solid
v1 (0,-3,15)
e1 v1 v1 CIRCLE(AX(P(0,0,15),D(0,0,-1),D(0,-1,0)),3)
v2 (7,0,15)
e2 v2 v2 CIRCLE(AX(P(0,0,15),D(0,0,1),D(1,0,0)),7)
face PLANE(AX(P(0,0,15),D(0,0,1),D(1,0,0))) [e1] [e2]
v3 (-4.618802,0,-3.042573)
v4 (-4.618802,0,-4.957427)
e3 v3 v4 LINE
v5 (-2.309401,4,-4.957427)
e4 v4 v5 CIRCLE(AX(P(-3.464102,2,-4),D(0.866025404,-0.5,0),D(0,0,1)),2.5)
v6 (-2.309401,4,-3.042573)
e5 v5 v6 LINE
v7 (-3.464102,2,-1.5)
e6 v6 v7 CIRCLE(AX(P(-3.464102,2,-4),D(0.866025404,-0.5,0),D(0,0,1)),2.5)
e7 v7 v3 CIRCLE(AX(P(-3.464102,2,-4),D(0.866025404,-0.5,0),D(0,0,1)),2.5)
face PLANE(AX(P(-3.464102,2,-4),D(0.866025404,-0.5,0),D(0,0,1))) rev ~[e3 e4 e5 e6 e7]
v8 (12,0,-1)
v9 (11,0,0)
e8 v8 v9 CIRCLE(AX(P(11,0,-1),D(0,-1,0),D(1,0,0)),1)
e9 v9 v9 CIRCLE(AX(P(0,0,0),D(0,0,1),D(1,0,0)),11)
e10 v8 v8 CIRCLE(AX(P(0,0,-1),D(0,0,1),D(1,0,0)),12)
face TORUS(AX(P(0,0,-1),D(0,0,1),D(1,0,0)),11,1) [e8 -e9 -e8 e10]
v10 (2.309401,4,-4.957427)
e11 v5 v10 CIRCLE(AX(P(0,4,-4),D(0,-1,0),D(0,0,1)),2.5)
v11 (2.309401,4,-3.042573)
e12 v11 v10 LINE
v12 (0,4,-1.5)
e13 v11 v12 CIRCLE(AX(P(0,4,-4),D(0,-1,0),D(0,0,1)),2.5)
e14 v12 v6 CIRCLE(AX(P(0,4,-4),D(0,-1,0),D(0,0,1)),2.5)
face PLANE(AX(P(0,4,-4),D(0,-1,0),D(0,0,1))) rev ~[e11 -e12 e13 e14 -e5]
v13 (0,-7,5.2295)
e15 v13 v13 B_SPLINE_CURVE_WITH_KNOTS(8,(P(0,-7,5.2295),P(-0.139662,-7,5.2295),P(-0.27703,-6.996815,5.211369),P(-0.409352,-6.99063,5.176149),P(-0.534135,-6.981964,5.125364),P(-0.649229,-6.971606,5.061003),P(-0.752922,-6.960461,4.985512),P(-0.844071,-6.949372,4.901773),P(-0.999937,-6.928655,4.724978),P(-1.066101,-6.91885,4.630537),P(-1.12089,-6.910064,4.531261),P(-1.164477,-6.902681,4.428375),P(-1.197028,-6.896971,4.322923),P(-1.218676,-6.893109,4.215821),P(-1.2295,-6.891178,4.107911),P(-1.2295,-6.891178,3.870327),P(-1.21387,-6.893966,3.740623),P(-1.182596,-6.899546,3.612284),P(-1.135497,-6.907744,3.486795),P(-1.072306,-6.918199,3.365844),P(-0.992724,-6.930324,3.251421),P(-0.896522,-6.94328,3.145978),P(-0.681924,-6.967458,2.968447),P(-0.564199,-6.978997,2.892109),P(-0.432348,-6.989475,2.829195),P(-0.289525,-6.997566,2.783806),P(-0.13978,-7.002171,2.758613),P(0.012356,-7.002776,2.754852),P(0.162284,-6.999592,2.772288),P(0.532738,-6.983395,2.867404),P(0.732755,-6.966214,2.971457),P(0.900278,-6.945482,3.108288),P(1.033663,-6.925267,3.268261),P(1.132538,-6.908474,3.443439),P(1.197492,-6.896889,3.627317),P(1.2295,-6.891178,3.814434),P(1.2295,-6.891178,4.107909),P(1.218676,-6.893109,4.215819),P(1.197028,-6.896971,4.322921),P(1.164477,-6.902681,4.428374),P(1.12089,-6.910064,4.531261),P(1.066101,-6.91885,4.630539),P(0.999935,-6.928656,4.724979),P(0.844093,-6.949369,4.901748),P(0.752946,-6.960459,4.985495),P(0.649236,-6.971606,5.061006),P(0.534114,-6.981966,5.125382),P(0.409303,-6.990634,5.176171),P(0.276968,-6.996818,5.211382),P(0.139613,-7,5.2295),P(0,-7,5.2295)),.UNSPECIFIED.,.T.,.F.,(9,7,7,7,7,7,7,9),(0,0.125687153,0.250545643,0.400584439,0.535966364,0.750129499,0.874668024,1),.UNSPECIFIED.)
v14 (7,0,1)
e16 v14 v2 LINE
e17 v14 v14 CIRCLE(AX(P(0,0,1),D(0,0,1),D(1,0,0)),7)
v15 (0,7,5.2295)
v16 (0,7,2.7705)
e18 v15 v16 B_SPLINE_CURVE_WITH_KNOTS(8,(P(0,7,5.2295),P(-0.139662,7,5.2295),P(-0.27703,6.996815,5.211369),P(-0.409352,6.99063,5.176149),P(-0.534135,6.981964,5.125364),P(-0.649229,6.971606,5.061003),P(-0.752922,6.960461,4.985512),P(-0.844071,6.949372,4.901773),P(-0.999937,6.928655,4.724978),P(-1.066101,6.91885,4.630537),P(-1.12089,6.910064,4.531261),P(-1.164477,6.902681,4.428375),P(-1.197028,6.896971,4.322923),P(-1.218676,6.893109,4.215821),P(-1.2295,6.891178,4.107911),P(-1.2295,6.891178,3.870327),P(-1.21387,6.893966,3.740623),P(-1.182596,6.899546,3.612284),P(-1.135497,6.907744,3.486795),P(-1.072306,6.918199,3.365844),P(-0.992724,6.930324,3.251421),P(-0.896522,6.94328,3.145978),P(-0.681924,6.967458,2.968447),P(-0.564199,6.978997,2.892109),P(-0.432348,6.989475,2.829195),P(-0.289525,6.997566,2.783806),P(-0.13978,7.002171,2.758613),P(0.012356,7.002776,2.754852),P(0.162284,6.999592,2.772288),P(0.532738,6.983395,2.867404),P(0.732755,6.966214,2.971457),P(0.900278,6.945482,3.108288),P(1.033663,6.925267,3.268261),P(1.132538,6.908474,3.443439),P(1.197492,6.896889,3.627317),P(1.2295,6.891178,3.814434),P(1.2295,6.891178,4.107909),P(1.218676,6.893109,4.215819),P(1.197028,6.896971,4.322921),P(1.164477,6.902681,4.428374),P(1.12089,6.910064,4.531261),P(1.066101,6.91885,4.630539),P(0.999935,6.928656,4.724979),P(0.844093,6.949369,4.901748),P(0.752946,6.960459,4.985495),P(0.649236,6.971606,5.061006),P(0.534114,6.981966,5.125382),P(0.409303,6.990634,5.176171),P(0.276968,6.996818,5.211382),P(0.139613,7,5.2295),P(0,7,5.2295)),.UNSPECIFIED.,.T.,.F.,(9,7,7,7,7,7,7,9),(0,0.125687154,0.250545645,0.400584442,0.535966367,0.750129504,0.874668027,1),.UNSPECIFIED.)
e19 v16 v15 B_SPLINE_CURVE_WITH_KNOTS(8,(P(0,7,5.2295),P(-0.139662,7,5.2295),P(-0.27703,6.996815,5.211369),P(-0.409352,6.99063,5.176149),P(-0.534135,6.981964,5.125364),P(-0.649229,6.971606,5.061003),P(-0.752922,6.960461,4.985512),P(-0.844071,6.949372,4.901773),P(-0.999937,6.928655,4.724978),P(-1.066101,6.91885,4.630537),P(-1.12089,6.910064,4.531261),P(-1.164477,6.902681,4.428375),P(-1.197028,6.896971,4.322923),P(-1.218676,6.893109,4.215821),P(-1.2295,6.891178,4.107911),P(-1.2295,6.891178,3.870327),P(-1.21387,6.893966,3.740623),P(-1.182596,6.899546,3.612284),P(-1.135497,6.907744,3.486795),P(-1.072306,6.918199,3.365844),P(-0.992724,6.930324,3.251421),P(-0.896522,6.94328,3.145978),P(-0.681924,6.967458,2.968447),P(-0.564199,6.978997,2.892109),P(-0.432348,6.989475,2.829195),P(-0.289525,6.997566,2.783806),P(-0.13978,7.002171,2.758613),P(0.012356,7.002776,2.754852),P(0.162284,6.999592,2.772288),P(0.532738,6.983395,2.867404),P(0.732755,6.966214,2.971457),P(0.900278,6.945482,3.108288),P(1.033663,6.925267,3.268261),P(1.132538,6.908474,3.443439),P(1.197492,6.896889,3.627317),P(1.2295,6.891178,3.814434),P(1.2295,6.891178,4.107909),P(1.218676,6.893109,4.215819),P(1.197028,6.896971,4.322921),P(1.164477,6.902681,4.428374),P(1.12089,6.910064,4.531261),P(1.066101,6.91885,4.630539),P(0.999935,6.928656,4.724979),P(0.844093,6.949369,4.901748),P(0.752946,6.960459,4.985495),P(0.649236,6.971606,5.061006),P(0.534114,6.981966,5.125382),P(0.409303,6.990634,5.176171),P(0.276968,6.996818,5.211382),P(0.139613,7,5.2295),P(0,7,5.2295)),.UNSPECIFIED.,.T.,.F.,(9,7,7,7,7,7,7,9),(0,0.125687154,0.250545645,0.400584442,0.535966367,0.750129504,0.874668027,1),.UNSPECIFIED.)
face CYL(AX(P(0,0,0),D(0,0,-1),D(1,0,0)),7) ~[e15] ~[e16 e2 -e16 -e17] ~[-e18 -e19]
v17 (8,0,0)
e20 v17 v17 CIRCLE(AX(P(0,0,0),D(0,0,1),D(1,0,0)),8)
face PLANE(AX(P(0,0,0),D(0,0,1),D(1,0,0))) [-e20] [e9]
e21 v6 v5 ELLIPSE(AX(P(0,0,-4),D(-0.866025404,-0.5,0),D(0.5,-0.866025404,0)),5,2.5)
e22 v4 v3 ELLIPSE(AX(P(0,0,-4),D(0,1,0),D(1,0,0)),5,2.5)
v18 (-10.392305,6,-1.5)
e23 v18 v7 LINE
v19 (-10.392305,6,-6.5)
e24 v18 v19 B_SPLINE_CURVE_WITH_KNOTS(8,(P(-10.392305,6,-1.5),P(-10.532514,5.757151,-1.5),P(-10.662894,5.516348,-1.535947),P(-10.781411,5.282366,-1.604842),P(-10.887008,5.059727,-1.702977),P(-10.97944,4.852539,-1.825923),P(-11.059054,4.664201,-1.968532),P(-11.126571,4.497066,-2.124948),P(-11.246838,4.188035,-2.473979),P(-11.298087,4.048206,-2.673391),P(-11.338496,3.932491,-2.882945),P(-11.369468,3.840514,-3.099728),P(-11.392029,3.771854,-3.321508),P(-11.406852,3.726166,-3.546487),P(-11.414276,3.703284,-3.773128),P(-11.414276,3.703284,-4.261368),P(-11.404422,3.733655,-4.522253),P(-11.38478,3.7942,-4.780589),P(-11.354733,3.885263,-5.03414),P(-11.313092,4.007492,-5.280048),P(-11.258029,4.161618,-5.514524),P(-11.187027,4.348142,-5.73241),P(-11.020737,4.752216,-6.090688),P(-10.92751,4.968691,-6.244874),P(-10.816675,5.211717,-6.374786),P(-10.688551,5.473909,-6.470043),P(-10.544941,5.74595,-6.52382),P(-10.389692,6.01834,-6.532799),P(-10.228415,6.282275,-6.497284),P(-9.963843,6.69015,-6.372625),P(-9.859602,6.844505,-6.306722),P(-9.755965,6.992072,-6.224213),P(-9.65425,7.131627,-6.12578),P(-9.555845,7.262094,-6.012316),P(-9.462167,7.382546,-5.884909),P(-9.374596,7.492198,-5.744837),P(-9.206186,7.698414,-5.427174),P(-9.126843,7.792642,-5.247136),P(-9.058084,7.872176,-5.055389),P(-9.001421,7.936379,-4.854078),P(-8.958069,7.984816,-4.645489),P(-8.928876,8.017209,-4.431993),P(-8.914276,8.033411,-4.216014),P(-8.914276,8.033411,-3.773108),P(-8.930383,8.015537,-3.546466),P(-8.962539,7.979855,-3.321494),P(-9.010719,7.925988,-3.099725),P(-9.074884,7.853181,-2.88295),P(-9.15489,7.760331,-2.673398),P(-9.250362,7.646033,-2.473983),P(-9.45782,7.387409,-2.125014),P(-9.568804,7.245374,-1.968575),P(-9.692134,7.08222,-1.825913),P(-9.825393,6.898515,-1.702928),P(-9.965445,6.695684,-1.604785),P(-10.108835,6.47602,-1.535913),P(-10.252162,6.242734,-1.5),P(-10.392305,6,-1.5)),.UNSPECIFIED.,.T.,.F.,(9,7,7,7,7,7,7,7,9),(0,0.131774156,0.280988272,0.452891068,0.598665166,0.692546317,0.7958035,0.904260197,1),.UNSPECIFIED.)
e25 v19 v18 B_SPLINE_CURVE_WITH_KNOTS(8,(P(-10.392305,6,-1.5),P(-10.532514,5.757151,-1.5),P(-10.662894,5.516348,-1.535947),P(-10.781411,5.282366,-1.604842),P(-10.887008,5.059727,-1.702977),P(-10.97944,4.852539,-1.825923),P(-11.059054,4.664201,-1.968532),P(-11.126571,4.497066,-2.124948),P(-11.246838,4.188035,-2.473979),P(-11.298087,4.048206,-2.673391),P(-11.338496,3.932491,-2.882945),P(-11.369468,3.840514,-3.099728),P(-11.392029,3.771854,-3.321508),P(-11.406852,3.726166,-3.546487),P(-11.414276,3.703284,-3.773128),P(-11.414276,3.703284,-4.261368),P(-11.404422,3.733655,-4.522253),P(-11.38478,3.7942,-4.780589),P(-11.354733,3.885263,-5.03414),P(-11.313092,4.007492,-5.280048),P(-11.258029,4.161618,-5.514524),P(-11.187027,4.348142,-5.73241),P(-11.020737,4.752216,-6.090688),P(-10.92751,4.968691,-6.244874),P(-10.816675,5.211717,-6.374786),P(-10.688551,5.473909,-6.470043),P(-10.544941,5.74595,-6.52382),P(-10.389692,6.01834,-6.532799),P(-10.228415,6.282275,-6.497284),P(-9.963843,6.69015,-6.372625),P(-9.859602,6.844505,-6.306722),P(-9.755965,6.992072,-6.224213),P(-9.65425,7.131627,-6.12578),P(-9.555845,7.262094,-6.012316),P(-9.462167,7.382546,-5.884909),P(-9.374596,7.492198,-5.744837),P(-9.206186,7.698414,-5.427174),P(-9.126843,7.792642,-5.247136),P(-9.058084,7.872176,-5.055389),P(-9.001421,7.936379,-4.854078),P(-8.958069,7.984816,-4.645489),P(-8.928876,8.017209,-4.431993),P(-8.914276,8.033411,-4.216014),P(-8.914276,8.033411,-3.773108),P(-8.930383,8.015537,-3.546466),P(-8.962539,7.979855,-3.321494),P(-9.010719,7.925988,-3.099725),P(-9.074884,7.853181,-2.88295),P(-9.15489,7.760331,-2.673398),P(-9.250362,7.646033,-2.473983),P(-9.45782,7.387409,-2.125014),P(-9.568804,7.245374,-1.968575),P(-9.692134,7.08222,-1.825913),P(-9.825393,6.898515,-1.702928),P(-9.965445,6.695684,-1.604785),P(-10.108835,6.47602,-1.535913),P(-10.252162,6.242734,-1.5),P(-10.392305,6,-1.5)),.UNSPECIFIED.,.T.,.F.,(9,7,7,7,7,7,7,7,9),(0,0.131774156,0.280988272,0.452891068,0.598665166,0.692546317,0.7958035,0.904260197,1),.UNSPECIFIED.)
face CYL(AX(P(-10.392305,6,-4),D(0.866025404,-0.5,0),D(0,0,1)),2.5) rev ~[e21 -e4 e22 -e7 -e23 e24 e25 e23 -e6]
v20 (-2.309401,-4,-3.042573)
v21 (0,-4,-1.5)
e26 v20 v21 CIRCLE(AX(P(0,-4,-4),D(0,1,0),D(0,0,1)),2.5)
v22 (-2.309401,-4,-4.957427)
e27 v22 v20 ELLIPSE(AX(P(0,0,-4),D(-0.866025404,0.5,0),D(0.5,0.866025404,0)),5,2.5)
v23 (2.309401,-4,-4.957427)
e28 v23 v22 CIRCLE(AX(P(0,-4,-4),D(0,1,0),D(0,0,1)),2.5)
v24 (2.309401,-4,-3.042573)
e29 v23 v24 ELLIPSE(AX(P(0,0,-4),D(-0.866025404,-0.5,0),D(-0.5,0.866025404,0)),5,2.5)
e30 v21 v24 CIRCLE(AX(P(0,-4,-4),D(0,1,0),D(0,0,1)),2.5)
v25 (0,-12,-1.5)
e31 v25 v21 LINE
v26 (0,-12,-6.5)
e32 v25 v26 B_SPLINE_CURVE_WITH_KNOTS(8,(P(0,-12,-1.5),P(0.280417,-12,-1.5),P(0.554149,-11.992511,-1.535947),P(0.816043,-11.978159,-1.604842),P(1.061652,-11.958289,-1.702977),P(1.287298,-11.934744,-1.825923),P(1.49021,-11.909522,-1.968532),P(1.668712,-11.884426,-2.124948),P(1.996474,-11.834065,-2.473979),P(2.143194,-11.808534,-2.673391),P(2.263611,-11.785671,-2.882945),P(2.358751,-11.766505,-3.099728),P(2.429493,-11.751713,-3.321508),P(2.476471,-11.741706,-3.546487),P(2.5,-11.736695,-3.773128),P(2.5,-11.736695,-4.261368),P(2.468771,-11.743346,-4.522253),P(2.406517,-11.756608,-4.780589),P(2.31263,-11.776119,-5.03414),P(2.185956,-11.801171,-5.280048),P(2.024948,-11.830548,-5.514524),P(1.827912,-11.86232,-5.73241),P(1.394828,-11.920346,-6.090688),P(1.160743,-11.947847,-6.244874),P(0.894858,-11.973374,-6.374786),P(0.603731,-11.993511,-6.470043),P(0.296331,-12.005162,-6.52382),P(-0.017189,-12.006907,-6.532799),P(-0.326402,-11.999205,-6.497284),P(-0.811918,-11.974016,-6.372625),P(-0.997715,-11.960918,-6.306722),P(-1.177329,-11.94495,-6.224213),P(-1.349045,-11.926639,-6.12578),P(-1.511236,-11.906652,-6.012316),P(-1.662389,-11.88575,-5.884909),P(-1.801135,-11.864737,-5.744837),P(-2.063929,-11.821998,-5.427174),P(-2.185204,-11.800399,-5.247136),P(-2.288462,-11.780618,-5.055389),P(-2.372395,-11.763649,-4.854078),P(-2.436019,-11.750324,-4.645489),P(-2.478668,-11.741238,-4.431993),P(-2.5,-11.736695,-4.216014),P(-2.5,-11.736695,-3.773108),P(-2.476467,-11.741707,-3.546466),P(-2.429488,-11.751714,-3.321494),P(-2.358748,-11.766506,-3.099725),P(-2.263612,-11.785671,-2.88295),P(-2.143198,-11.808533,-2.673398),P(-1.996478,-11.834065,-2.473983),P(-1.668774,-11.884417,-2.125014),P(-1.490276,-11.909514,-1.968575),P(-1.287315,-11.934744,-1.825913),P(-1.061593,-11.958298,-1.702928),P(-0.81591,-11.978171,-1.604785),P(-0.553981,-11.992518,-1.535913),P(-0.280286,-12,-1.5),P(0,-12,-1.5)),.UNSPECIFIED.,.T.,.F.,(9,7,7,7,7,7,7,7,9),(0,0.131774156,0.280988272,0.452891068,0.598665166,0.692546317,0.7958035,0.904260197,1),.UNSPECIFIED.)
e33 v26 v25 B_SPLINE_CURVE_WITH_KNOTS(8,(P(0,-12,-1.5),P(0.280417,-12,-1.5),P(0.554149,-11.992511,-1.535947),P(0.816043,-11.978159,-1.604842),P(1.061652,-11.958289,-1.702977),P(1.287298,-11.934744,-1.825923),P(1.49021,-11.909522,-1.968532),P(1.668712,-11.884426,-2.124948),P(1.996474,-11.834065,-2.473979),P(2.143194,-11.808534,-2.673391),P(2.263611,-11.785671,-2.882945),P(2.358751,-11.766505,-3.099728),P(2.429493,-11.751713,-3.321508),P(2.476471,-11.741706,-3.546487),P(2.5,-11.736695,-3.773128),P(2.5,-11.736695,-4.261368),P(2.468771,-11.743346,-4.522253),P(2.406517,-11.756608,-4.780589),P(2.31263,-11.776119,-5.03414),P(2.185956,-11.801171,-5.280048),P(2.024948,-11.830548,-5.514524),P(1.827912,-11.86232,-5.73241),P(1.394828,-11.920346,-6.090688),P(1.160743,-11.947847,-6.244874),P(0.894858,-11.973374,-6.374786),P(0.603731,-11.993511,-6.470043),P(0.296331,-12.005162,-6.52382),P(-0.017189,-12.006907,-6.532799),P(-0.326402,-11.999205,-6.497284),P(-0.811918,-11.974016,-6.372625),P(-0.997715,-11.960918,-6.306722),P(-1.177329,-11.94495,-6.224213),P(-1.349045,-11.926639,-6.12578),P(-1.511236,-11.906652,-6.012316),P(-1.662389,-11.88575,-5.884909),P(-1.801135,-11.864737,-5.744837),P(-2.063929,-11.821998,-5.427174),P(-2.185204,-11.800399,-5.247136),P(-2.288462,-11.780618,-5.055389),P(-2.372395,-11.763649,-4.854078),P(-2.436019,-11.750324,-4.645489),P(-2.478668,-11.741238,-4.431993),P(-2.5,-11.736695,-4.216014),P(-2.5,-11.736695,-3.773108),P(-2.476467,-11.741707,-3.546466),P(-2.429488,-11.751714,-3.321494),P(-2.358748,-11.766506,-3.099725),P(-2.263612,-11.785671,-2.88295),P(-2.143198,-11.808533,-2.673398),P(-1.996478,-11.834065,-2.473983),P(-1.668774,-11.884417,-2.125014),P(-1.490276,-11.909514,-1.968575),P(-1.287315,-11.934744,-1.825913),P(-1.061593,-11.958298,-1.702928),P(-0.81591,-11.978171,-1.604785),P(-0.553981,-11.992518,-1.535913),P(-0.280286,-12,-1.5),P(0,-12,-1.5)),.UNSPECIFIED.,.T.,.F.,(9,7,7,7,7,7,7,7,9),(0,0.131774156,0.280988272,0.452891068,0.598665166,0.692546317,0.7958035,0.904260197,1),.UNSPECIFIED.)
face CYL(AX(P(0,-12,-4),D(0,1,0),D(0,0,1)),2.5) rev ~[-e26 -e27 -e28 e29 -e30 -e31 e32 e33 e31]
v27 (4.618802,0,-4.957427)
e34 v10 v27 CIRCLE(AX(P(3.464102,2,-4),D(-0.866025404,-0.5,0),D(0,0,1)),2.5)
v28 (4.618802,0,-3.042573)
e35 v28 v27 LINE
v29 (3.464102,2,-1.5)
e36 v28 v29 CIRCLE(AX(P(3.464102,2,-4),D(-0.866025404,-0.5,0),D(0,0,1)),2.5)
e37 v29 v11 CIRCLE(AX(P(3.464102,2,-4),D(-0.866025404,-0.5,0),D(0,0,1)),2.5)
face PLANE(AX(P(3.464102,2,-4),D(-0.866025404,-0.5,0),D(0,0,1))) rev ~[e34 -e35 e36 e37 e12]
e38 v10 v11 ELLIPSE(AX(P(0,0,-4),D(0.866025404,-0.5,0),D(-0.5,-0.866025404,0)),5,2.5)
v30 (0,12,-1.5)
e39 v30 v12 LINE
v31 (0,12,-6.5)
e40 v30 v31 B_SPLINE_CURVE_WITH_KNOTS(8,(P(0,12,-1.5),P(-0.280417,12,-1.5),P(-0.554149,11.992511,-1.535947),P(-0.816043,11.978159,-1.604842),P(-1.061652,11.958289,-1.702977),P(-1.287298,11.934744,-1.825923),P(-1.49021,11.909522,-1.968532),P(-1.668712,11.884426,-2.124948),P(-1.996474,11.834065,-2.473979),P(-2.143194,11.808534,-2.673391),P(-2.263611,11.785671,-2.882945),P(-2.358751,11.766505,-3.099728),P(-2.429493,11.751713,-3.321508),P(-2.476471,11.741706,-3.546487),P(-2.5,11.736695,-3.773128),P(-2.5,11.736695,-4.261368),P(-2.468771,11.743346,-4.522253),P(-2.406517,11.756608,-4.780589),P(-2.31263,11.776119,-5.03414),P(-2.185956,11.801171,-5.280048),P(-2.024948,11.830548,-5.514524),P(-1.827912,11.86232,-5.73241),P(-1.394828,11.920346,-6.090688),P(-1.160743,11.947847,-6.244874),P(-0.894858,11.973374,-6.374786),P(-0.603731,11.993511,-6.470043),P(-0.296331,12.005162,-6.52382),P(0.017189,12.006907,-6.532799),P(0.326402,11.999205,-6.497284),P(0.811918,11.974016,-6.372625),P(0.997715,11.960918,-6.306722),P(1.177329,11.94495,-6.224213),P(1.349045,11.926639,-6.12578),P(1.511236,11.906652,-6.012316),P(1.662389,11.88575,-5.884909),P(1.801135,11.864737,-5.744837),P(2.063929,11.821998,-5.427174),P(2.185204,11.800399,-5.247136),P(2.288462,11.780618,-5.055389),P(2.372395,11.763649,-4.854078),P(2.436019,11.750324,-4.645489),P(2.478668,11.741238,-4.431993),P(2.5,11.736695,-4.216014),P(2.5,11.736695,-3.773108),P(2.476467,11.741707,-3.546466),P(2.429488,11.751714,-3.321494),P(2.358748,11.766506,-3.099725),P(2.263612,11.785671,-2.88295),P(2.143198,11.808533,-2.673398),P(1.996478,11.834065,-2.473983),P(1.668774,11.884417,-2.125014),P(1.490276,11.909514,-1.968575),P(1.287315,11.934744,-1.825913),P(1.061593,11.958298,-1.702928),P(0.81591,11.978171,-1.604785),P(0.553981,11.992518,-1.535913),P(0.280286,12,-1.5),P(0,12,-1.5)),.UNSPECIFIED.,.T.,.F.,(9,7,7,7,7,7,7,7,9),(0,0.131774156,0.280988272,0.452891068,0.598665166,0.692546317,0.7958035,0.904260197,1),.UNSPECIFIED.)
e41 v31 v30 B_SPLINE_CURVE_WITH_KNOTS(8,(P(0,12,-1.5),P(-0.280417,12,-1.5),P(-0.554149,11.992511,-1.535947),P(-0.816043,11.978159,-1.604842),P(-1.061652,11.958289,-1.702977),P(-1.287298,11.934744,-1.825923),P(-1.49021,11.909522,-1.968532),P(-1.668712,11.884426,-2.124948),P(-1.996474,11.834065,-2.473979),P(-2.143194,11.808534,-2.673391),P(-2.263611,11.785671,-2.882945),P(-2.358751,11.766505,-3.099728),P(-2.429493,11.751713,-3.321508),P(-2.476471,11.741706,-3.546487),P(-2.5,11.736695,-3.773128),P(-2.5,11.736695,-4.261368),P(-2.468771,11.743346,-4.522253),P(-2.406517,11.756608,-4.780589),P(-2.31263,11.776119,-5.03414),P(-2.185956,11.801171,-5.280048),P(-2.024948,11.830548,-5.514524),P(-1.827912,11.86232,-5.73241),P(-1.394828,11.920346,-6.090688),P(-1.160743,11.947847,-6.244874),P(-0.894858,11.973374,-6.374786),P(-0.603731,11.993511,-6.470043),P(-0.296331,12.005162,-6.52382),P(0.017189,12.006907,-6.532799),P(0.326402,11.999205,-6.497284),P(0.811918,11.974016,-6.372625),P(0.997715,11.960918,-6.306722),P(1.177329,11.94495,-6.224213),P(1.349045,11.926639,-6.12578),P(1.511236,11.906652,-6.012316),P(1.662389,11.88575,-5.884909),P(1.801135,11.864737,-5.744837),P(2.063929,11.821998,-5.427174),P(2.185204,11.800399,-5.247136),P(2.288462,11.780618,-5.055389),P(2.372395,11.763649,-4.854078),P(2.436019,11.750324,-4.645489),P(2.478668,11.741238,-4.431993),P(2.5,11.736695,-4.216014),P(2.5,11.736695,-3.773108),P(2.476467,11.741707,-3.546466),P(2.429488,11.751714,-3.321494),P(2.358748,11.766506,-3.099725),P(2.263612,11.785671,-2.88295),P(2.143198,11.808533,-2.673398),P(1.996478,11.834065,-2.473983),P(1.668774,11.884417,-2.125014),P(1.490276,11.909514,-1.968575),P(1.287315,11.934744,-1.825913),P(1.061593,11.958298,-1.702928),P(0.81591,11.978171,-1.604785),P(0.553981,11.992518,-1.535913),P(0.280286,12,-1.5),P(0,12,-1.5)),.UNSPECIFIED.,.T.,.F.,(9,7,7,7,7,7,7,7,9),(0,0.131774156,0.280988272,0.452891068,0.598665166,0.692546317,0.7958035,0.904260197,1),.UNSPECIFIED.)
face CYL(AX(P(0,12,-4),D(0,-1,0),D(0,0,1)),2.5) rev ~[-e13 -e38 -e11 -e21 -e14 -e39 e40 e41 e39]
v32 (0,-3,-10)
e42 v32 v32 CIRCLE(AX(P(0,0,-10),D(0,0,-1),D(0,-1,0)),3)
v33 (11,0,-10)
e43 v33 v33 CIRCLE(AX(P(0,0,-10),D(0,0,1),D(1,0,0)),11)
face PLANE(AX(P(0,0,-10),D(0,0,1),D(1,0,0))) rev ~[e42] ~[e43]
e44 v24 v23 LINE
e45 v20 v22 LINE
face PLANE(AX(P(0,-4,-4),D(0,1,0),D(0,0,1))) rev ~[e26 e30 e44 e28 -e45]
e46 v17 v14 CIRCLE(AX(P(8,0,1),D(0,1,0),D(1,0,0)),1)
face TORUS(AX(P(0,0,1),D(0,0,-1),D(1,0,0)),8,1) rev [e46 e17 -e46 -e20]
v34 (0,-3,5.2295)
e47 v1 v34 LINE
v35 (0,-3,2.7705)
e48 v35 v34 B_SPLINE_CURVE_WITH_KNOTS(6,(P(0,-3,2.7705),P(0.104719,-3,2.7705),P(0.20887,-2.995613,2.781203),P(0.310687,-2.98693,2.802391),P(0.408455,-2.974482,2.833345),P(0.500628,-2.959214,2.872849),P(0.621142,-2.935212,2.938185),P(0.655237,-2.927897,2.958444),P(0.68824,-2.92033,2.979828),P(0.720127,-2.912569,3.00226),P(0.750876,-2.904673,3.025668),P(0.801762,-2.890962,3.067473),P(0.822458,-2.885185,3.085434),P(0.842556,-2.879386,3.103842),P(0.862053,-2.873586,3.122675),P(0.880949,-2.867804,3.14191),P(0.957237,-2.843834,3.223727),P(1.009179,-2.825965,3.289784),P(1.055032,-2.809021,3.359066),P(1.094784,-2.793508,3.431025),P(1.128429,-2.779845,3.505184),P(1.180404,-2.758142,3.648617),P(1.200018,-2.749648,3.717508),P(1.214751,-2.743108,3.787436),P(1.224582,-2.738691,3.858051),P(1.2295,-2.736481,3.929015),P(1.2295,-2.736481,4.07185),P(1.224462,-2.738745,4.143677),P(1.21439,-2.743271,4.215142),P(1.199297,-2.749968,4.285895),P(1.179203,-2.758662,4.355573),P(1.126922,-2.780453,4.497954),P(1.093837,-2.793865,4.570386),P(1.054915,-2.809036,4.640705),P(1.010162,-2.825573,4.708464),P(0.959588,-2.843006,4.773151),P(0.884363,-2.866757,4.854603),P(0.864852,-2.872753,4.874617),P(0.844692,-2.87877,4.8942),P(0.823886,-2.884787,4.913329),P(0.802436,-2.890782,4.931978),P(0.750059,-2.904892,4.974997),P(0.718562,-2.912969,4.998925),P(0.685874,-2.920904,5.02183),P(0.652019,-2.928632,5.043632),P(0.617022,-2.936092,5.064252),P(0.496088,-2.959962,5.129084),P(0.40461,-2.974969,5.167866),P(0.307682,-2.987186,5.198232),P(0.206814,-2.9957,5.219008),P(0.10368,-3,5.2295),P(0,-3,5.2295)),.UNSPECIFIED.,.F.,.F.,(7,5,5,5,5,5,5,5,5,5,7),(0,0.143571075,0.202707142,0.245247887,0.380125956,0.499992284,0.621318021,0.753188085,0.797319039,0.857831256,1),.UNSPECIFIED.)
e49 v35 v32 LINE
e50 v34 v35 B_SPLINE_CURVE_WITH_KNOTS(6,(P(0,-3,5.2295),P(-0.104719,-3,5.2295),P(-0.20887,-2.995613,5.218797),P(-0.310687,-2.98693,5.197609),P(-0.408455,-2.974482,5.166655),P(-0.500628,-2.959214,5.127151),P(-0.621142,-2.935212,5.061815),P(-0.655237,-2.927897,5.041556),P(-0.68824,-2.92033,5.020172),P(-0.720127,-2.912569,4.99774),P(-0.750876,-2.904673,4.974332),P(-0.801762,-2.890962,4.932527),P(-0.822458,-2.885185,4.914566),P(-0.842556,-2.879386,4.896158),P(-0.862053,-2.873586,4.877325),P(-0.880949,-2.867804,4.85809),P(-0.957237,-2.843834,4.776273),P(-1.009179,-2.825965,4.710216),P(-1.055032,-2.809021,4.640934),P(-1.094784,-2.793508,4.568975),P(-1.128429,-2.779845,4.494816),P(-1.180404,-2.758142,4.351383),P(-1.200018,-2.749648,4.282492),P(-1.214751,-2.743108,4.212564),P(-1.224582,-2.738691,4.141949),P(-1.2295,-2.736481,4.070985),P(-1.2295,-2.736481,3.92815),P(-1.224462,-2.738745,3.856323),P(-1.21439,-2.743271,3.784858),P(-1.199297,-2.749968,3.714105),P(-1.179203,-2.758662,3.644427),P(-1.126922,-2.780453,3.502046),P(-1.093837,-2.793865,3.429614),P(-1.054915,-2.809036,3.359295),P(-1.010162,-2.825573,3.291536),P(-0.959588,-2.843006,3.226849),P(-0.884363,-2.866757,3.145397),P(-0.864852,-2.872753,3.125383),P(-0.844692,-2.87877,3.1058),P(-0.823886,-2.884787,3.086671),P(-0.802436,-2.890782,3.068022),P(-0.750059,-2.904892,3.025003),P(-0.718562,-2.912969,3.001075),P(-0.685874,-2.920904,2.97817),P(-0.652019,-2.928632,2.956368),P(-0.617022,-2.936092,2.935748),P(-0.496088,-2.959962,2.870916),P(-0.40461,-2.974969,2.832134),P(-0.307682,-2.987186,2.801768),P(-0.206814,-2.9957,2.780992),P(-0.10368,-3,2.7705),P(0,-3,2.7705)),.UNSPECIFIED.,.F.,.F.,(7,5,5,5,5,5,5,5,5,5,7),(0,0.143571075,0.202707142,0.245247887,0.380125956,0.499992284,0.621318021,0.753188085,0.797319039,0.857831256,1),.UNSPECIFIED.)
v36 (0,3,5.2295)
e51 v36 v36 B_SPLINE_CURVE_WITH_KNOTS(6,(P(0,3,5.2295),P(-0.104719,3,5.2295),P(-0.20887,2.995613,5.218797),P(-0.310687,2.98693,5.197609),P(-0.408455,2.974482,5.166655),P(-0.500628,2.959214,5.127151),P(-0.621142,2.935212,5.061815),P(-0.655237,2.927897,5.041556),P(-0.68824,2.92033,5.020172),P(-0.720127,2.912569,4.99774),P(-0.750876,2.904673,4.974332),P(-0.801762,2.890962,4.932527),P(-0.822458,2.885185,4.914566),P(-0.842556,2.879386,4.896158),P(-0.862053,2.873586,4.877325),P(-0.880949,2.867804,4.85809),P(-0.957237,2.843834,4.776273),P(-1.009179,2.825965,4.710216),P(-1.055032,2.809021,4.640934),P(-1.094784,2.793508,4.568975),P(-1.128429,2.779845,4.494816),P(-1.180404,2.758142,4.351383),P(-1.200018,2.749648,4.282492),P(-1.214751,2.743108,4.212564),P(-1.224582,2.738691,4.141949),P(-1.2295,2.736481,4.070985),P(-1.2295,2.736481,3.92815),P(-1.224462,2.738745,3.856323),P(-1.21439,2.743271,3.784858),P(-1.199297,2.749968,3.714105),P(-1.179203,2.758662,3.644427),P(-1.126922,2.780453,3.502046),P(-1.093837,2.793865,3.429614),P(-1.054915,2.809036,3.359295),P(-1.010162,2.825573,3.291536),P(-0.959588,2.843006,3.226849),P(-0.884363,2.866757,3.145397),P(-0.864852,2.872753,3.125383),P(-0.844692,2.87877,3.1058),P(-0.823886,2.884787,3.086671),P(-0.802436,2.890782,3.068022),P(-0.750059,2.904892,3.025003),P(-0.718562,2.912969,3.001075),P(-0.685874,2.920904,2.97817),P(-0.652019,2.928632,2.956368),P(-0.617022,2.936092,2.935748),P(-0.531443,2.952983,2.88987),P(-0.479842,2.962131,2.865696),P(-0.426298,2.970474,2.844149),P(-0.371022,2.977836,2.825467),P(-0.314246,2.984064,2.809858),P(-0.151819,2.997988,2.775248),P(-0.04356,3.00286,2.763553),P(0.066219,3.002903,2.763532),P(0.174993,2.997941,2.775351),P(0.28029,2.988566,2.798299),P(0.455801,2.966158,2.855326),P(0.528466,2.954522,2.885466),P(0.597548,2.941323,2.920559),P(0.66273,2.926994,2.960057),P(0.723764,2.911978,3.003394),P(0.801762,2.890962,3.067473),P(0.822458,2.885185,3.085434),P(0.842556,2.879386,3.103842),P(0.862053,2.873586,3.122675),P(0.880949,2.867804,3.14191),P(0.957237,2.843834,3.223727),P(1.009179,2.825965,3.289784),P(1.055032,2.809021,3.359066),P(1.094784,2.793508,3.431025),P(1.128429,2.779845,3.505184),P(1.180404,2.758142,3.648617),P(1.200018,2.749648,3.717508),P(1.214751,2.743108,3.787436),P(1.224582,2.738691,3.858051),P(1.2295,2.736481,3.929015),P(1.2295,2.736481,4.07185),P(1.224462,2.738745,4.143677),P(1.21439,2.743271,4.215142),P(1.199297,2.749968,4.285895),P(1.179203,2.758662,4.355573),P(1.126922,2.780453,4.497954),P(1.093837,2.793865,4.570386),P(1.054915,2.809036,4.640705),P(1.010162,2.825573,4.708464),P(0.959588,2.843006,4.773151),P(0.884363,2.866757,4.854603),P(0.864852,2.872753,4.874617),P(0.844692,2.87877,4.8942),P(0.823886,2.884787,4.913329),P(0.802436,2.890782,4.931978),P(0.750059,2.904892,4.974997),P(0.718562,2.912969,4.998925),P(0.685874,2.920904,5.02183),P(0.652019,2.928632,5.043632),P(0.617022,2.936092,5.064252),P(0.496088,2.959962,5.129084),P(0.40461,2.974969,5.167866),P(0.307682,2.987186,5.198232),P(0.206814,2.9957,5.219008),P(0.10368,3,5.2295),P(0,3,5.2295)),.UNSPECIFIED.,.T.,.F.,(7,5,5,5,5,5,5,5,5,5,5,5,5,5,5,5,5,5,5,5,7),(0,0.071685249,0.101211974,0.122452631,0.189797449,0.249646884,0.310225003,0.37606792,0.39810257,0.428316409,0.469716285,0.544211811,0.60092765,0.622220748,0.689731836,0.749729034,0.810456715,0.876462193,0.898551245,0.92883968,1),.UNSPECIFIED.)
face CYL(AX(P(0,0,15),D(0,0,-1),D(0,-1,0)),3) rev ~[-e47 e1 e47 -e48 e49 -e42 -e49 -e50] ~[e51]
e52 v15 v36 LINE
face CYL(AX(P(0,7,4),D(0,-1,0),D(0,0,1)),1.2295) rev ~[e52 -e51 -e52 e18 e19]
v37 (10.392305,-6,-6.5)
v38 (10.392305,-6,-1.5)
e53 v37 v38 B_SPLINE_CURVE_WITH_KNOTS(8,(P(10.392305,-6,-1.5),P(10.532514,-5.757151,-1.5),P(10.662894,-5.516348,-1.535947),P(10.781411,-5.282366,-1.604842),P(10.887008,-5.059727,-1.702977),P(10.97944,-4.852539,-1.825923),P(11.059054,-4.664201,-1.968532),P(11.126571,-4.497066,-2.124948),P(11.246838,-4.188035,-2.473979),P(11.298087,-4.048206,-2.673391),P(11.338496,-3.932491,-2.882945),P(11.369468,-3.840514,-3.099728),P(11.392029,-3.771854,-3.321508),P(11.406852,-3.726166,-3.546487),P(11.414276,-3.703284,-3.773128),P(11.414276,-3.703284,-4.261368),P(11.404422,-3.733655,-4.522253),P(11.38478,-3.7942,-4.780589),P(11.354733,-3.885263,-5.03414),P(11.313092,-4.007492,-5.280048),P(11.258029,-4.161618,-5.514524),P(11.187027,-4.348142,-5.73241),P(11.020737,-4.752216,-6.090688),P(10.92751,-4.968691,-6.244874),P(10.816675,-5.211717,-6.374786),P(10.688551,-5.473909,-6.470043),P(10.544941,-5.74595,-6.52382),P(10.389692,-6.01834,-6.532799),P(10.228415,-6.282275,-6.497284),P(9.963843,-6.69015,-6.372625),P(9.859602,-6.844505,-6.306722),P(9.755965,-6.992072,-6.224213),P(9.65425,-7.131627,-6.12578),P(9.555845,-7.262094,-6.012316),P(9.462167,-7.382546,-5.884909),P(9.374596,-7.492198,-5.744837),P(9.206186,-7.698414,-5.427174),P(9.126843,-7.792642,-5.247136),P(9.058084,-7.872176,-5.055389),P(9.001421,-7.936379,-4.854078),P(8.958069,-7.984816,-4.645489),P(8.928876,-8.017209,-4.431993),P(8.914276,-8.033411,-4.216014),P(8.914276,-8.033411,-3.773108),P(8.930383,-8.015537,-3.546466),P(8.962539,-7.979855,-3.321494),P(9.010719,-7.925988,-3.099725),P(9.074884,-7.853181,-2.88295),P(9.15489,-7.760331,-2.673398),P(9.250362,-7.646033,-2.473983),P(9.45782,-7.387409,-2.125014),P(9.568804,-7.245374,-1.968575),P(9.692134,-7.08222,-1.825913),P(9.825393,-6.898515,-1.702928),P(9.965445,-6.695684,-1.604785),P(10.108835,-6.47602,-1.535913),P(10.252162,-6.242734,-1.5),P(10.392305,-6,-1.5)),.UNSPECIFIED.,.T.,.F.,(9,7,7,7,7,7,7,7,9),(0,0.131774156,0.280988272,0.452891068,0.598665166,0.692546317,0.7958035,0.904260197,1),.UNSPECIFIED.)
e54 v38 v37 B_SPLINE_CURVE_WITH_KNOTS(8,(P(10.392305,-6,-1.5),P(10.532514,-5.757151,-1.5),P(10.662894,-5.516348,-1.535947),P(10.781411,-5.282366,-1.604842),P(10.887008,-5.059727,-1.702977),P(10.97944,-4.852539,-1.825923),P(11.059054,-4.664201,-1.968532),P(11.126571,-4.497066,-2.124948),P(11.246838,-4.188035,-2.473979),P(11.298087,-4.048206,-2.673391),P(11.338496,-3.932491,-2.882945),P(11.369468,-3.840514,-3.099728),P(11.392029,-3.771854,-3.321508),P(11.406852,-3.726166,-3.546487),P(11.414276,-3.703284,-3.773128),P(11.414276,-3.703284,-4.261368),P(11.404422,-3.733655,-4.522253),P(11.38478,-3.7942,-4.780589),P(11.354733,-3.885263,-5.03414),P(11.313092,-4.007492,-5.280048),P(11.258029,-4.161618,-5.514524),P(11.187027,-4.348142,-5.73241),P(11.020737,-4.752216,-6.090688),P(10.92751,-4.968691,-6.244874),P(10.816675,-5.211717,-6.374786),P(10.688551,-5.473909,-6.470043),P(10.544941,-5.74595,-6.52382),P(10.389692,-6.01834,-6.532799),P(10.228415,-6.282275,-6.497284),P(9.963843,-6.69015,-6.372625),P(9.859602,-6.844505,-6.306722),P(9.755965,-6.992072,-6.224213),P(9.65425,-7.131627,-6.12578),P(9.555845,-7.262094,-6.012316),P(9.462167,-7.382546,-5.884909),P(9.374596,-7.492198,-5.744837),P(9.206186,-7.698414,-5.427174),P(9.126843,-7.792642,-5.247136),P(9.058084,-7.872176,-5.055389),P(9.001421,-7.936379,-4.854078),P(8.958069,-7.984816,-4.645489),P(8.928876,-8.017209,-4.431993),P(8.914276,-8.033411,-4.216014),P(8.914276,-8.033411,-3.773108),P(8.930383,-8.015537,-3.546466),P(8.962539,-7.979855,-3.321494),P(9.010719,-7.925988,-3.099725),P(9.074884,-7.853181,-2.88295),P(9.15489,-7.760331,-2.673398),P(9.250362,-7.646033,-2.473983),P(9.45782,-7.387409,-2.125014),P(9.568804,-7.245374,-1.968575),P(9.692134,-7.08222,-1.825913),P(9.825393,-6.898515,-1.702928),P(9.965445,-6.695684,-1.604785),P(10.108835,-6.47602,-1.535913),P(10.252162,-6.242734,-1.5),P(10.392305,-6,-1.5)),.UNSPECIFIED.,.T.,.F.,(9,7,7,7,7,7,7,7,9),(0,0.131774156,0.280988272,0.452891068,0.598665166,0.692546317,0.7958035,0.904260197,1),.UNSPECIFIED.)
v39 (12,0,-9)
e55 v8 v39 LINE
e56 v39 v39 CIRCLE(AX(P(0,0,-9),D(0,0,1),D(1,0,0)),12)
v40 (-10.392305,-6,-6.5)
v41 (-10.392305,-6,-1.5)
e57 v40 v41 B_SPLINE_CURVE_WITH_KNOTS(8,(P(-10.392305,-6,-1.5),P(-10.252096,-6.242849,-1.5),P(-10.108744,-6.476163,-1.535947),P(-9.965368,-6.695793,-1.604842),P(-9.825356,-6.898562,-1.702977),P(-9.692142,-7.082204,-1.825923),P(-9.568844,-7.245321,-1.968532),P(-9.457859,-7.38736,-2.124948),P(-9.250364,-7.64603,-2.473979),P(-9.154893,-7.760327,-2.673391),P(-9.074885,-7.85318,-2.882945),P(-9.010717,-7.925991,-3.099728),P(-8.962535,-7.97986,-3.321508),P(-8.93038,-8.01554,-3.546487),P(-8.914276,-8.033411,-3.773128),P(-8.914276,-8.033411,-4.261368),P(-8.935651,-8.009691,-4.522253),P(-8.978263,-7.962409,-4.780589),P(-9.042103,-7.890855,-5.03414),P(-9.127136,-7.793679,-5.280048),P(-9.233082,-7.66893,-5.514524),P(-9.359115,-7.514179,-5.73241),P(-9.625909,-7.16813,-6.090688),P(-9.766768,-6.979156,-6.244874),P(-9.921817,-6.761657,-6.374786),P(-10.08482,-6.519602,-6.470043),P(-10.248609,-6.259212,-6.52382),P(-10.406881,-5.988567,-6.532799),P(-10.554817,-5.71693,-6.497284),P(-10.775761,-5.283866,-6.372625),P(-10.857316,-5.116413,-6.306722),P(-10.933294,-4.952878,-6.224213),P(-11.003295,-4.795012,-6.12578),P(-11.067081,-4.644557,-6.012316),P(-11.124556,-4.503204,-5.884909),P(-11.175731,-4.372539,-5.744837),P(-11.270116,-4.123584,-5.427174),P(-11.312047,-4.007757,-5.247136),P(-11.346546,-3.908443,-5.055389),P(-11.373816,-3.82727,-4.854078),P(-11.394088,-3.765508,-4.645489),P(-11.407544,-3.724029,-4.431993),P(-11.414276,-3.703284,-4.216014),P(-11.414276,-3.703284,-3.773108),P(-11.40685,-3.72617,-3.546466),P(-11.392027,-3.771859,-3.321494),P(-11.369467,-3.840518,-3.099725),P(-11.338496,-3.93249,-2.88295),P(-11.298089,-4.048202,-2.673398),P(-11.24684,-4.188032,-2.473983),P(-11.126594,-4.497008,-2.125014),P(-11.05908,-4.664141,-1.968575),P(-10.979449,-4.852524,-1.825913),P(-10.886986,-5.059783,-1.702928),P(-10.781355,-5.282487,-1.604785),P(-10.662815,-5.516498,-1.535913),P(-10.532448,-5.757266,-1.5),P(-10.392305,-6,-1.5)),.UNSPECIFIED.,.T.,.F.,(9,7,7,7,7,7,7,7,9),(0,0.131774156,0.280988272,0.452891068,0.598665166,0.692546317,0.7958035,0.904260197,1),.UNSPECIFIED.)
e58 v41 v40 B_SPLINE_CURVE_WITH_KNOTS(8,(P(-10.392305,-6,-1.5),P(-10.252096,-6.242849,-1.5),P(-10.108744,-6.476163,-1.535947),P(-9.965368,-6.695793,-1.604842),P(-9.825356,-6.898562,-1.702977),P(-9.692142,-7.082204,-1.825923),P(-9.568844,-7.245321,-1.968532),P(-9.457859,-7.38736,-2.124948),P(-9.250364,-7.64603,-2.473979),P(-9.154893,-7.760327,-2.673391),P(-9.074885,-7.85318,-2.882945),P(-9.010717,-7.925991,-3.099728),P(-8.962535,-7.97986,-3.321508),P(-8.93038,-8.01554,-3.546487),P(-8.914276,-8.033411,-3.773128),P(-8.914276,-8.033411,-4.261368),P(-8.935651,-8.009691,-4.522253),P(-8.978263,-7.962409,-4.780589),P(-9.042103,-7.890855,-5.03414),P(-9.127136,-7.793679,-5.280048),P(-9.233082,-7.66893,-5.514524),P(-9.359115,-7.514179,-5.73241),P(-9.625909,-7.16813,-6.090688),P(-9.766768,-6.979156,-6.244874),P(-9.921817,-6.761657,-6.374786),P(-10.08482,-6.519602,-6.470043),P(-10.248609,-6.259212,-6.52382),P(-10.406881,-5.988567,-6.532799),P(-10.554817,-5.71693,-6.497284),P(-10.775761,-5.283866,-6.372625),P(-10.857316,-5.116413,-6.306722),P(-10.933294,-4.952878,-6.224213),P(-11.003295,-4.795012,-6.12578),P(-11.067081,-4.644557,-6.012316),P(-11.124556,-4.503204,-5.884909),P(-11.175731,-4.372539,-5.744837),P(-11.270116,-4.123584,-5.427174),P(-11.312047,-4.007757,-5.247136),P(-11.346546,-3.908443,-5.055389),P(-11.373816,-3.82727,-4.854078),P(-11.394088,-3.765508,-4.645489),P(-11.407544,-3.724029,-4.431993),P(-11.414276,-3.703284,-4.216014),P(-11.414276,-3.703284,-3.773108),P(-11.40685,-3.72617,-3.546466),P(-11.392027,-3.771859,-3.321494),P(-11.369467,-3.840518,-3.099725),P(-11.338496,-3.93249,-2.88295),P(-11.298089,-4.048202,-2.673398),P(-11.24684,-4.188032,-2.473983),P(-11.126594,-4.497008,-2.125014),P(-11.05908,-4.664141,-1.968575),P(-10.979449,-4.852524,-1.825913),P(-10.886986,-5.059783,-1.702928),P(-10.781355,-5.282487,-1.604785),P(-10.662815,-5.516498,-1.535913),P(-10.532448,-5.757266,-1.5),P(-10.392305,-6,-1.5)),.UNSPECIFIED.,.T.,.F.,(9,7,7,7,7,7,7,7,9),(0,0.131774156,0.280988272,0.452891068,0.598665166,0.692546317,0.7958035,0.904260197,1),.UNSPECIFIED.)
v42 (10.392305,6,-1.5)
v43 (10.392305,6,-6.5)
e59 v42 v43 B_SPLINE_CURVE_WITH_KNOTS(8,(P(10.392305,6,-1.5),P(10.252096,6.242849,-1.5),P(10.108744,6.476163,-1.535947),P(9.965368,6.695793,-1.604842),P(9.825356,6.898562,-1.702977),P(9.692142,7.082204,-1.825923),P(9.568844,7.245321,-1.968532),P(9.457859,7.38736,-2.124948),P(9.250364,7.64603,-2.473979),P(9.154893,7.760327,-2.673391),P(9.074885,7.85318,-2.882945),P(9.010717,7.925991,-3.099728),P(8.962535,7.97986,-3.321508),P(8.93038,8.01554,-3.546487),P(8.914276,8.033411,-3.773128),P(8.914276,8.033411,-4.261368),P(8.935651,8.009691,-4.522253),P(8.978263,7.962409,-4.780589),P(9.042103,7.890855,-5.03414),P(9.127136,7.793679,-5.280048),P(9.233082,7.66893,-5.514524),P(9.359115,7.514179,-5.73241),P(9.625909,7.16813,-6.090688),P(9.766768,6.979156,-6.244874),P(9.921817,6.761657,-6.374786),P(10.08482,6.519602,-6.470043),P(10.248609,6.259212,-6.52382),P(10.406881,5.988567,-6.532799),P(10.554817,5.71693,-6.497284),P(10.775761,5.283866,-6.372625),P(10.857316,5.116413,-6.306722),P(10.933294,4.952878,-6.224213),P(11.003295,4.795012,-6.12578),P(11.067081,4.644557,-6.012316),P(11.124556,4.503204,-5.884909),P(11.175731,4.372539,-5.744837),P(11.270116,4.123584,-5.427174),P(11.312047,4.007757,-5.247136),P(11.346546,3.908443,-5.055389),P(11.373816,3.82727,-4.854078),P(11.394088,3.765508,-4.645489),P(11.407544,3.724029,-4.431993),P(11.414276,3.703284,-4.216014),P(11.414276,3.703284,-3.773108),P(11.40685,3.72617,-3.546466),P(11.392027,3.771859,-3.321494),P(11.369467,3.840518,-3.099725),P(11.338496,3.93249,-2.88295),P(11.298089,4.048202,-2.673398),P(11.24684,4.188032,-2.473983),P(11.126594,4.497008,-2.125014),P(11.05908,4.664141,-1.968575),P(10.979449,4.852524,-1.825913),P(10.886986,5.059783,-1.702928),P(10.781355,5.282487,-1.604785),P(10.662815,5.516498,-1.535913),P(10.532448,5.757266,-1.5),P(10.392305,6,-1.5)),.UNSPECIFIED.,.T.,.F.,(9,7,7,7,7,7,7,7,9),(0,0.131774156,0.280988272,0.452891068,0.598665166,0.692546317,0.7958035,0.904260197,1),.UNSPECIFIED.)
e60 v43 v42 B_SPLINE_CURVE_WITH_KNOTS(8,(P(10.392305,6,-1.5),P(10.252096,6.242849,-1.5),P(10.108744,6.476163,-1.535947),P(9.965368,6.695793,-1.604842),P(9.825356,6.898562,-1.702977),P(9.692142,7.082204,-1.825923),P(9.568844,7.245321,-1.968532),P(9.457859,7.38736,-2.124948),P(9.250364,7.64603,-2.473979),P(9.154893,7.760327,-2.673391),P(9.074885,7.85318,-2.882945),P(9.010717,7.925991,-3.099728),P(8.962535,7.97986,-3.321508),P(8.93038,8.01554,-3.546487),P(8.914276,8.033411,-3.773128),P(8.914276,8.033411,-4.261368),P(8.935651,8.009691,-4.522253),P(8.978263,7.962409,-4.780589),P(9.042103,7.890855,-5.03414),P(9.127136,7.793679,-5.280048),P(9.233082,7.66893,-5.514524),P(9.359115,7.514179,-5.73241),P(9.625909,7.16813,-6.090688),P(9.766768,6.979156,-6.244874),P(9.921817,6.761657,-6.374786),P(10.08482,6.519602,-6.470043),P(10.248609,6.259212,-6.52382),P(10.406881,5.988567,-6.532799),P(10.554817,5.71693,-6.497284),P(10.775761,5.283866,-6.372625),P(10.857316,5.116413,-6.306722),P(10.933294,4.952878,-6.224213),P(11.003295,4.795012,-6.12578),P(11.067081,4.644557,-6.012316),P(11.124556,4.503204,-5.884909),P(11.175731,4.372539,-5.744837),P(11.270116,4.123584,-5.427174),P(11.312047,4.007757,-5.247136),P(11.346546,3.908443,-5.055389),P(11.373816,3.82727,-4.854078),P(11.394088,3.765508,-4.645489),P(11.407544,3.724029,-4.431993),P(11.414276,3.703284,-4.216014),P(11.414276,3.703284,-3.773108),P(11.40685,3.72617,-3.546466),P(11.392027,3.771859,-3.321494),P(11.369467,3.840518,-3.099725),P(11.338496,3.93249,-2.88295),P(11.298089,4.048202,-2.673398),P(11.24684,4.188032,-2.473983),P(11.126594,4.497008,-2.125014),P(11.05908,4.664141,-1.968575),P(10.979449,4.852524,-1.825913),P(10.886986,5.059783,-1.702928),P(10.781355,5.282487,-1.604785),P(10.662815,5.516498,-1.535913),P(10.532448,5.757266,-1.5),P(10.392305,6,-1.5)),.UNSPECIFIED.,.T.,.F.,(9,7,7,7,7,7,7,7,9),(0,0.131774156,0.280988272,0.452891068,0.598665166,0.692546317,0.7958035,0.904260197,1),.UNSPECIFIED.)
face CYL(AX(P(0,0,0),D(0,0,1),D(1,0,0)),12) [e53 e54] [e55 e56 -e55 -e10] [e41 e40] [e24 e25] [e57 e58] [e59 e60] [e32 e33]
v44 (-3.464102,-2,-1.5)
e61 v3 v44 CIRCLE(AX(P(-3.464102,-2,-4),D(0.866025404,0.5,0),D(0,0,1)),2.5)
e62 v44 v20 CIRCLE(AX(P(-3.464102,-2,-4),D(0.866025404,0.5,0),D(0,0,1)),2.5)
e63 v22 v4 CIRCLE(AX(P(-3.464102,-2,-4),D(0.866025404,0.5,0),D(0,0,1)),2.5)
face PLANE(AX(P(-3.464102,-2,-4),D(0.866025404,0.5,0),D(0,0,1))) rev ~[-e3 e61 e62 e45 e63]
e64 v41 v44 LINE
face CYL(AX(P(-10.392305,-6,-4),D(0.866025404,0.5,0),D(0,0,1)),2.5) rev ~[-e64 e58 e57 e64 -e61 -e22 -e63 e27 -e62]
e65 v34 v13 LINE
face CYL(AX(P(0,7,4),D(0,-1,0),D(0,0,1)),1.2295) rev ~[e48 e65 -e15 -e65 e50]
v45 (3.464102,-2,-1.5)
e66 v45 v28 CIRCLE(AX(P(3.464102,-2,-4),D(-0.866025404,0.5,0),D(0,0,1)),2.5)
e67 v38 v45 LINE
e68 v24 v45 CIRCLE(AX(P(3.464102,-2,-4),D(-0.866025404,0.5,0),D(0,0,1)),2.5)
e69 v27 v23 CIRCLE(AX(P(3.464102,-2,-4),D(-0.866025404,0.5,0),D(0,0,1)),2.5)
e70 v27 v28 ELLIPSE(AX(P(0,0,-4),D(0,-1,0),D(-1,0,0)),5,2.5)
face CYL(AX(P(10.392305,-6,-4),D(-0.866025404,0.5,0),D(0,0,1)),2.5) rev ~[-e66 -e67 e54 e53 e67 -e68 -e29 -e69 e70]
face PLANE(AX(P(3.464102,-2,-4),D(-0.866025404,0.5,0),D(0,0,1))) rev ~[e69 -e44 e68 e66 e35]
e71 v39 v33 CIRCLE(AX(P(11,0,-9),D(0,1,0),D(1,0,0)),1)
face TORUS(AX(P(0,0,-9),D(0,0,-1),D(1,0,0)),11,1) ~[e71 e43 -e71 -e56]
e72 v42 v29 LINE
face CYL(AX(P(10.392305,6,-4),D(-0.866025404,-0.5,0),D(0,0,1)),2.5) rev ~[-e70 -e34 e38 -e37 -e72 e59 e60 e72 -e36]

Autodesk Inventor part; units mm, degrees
ref_plane "YZ Plane" through (0, 0, 0) normal (1, 0, 0) x (0, 1, 0)
sketch "Sketch1" plane through (0, 0, 0) normal (0, 0, 1) x (1, 0, 0)
  circle A0 centre (0, 0) radius 12
  dimension "d0" = 24
extrude "Extrusion1" add sketch "Sketch1" against normal blind 10
sketch "Sketch2" plane through (0, 0, 0) normal (0, 0, 1) x (1, 0, 0)
  circle A0 centre (0, 0) radius 7
  dimension "d3" = 14
extrude "Extrusion2" add sketch "Sketch2" along normal blind 15
fillet "Fillet1" radius 1 3 edges at (-7, 0, 0) (-12, 0, 0) (-12, 0, -10)
ref_plane "Work Plane1" through (0, 12, 0) normal (0, 1, 0) x (-1, 0, 0)
sketch "Sketch4" plane through (0, 12, 0) normal (0, 1, 0) x (-1, 0, 0)
  line L0 (11, -10) -> (-11, -10) projected
  point P0 (0, 0)
  point P1 (0, -4)
  dimension "d15" = 6
hole "Hole2" at (0, 12, -4) direction (0, -1, 0) diameter 5 depth 8
pattern_circular "Circular Pattern1" count 6 over 360 about axis through (0, 0, -9) along (0, 0, -1) of "Hole2"
ref_plane "Work Plane2" through (0, 7, 0) normal (0, 1, 0) x (-1, 0, 0)
sketch "Sketch5" plane through (0, 7, 0) normal (0, 1, 0) x (-1, 0, 0)
  line L0 (7, 15) -> (-7, 15) projected
  line L1 (2.3094, -4.9574) -> (2.3094, -3.0426) projected
  arc A0 (2.3094, -3.0426) -> (-2.3094, -3.0426) centre (0, -4) ccw projected
  line L2 (-2.3094, -3.0426) -> (-2.3094, -4.9574) projected
  arc A1 (-2.3094, -4.9574) -> (2.3094, -4.9574) centre (0, -4) ccw projected
  point P0 (0, 0)
  point P1 (0, 4)
  point P2 (0, -6.5)
  point P3 (0, -1.5)
  point P4 (0, -3.5)
  point P5 (0, -8.5)
  point P6 (0, -2.5)
  point P7 (0, -7.5)
  dimension "d27" = 11
hole "Hole3" at (0, 7, 4) direction (0, -1, 0) diameter 2.459 end through all thread size "M3x0.5" class "6H" standard "ISO Metric profile"
sketch "Sketch6" plane through (0, 0, 15) normal (0, 0, 1) x (1, 0, 0)
  circle A0 centre (0, 0) radius 7 projected
hole "Hole4" at (0, 0, 15) direction (0, 0, -1) diameter 6 depth 25
properties part number "22.4" material "Lead"
